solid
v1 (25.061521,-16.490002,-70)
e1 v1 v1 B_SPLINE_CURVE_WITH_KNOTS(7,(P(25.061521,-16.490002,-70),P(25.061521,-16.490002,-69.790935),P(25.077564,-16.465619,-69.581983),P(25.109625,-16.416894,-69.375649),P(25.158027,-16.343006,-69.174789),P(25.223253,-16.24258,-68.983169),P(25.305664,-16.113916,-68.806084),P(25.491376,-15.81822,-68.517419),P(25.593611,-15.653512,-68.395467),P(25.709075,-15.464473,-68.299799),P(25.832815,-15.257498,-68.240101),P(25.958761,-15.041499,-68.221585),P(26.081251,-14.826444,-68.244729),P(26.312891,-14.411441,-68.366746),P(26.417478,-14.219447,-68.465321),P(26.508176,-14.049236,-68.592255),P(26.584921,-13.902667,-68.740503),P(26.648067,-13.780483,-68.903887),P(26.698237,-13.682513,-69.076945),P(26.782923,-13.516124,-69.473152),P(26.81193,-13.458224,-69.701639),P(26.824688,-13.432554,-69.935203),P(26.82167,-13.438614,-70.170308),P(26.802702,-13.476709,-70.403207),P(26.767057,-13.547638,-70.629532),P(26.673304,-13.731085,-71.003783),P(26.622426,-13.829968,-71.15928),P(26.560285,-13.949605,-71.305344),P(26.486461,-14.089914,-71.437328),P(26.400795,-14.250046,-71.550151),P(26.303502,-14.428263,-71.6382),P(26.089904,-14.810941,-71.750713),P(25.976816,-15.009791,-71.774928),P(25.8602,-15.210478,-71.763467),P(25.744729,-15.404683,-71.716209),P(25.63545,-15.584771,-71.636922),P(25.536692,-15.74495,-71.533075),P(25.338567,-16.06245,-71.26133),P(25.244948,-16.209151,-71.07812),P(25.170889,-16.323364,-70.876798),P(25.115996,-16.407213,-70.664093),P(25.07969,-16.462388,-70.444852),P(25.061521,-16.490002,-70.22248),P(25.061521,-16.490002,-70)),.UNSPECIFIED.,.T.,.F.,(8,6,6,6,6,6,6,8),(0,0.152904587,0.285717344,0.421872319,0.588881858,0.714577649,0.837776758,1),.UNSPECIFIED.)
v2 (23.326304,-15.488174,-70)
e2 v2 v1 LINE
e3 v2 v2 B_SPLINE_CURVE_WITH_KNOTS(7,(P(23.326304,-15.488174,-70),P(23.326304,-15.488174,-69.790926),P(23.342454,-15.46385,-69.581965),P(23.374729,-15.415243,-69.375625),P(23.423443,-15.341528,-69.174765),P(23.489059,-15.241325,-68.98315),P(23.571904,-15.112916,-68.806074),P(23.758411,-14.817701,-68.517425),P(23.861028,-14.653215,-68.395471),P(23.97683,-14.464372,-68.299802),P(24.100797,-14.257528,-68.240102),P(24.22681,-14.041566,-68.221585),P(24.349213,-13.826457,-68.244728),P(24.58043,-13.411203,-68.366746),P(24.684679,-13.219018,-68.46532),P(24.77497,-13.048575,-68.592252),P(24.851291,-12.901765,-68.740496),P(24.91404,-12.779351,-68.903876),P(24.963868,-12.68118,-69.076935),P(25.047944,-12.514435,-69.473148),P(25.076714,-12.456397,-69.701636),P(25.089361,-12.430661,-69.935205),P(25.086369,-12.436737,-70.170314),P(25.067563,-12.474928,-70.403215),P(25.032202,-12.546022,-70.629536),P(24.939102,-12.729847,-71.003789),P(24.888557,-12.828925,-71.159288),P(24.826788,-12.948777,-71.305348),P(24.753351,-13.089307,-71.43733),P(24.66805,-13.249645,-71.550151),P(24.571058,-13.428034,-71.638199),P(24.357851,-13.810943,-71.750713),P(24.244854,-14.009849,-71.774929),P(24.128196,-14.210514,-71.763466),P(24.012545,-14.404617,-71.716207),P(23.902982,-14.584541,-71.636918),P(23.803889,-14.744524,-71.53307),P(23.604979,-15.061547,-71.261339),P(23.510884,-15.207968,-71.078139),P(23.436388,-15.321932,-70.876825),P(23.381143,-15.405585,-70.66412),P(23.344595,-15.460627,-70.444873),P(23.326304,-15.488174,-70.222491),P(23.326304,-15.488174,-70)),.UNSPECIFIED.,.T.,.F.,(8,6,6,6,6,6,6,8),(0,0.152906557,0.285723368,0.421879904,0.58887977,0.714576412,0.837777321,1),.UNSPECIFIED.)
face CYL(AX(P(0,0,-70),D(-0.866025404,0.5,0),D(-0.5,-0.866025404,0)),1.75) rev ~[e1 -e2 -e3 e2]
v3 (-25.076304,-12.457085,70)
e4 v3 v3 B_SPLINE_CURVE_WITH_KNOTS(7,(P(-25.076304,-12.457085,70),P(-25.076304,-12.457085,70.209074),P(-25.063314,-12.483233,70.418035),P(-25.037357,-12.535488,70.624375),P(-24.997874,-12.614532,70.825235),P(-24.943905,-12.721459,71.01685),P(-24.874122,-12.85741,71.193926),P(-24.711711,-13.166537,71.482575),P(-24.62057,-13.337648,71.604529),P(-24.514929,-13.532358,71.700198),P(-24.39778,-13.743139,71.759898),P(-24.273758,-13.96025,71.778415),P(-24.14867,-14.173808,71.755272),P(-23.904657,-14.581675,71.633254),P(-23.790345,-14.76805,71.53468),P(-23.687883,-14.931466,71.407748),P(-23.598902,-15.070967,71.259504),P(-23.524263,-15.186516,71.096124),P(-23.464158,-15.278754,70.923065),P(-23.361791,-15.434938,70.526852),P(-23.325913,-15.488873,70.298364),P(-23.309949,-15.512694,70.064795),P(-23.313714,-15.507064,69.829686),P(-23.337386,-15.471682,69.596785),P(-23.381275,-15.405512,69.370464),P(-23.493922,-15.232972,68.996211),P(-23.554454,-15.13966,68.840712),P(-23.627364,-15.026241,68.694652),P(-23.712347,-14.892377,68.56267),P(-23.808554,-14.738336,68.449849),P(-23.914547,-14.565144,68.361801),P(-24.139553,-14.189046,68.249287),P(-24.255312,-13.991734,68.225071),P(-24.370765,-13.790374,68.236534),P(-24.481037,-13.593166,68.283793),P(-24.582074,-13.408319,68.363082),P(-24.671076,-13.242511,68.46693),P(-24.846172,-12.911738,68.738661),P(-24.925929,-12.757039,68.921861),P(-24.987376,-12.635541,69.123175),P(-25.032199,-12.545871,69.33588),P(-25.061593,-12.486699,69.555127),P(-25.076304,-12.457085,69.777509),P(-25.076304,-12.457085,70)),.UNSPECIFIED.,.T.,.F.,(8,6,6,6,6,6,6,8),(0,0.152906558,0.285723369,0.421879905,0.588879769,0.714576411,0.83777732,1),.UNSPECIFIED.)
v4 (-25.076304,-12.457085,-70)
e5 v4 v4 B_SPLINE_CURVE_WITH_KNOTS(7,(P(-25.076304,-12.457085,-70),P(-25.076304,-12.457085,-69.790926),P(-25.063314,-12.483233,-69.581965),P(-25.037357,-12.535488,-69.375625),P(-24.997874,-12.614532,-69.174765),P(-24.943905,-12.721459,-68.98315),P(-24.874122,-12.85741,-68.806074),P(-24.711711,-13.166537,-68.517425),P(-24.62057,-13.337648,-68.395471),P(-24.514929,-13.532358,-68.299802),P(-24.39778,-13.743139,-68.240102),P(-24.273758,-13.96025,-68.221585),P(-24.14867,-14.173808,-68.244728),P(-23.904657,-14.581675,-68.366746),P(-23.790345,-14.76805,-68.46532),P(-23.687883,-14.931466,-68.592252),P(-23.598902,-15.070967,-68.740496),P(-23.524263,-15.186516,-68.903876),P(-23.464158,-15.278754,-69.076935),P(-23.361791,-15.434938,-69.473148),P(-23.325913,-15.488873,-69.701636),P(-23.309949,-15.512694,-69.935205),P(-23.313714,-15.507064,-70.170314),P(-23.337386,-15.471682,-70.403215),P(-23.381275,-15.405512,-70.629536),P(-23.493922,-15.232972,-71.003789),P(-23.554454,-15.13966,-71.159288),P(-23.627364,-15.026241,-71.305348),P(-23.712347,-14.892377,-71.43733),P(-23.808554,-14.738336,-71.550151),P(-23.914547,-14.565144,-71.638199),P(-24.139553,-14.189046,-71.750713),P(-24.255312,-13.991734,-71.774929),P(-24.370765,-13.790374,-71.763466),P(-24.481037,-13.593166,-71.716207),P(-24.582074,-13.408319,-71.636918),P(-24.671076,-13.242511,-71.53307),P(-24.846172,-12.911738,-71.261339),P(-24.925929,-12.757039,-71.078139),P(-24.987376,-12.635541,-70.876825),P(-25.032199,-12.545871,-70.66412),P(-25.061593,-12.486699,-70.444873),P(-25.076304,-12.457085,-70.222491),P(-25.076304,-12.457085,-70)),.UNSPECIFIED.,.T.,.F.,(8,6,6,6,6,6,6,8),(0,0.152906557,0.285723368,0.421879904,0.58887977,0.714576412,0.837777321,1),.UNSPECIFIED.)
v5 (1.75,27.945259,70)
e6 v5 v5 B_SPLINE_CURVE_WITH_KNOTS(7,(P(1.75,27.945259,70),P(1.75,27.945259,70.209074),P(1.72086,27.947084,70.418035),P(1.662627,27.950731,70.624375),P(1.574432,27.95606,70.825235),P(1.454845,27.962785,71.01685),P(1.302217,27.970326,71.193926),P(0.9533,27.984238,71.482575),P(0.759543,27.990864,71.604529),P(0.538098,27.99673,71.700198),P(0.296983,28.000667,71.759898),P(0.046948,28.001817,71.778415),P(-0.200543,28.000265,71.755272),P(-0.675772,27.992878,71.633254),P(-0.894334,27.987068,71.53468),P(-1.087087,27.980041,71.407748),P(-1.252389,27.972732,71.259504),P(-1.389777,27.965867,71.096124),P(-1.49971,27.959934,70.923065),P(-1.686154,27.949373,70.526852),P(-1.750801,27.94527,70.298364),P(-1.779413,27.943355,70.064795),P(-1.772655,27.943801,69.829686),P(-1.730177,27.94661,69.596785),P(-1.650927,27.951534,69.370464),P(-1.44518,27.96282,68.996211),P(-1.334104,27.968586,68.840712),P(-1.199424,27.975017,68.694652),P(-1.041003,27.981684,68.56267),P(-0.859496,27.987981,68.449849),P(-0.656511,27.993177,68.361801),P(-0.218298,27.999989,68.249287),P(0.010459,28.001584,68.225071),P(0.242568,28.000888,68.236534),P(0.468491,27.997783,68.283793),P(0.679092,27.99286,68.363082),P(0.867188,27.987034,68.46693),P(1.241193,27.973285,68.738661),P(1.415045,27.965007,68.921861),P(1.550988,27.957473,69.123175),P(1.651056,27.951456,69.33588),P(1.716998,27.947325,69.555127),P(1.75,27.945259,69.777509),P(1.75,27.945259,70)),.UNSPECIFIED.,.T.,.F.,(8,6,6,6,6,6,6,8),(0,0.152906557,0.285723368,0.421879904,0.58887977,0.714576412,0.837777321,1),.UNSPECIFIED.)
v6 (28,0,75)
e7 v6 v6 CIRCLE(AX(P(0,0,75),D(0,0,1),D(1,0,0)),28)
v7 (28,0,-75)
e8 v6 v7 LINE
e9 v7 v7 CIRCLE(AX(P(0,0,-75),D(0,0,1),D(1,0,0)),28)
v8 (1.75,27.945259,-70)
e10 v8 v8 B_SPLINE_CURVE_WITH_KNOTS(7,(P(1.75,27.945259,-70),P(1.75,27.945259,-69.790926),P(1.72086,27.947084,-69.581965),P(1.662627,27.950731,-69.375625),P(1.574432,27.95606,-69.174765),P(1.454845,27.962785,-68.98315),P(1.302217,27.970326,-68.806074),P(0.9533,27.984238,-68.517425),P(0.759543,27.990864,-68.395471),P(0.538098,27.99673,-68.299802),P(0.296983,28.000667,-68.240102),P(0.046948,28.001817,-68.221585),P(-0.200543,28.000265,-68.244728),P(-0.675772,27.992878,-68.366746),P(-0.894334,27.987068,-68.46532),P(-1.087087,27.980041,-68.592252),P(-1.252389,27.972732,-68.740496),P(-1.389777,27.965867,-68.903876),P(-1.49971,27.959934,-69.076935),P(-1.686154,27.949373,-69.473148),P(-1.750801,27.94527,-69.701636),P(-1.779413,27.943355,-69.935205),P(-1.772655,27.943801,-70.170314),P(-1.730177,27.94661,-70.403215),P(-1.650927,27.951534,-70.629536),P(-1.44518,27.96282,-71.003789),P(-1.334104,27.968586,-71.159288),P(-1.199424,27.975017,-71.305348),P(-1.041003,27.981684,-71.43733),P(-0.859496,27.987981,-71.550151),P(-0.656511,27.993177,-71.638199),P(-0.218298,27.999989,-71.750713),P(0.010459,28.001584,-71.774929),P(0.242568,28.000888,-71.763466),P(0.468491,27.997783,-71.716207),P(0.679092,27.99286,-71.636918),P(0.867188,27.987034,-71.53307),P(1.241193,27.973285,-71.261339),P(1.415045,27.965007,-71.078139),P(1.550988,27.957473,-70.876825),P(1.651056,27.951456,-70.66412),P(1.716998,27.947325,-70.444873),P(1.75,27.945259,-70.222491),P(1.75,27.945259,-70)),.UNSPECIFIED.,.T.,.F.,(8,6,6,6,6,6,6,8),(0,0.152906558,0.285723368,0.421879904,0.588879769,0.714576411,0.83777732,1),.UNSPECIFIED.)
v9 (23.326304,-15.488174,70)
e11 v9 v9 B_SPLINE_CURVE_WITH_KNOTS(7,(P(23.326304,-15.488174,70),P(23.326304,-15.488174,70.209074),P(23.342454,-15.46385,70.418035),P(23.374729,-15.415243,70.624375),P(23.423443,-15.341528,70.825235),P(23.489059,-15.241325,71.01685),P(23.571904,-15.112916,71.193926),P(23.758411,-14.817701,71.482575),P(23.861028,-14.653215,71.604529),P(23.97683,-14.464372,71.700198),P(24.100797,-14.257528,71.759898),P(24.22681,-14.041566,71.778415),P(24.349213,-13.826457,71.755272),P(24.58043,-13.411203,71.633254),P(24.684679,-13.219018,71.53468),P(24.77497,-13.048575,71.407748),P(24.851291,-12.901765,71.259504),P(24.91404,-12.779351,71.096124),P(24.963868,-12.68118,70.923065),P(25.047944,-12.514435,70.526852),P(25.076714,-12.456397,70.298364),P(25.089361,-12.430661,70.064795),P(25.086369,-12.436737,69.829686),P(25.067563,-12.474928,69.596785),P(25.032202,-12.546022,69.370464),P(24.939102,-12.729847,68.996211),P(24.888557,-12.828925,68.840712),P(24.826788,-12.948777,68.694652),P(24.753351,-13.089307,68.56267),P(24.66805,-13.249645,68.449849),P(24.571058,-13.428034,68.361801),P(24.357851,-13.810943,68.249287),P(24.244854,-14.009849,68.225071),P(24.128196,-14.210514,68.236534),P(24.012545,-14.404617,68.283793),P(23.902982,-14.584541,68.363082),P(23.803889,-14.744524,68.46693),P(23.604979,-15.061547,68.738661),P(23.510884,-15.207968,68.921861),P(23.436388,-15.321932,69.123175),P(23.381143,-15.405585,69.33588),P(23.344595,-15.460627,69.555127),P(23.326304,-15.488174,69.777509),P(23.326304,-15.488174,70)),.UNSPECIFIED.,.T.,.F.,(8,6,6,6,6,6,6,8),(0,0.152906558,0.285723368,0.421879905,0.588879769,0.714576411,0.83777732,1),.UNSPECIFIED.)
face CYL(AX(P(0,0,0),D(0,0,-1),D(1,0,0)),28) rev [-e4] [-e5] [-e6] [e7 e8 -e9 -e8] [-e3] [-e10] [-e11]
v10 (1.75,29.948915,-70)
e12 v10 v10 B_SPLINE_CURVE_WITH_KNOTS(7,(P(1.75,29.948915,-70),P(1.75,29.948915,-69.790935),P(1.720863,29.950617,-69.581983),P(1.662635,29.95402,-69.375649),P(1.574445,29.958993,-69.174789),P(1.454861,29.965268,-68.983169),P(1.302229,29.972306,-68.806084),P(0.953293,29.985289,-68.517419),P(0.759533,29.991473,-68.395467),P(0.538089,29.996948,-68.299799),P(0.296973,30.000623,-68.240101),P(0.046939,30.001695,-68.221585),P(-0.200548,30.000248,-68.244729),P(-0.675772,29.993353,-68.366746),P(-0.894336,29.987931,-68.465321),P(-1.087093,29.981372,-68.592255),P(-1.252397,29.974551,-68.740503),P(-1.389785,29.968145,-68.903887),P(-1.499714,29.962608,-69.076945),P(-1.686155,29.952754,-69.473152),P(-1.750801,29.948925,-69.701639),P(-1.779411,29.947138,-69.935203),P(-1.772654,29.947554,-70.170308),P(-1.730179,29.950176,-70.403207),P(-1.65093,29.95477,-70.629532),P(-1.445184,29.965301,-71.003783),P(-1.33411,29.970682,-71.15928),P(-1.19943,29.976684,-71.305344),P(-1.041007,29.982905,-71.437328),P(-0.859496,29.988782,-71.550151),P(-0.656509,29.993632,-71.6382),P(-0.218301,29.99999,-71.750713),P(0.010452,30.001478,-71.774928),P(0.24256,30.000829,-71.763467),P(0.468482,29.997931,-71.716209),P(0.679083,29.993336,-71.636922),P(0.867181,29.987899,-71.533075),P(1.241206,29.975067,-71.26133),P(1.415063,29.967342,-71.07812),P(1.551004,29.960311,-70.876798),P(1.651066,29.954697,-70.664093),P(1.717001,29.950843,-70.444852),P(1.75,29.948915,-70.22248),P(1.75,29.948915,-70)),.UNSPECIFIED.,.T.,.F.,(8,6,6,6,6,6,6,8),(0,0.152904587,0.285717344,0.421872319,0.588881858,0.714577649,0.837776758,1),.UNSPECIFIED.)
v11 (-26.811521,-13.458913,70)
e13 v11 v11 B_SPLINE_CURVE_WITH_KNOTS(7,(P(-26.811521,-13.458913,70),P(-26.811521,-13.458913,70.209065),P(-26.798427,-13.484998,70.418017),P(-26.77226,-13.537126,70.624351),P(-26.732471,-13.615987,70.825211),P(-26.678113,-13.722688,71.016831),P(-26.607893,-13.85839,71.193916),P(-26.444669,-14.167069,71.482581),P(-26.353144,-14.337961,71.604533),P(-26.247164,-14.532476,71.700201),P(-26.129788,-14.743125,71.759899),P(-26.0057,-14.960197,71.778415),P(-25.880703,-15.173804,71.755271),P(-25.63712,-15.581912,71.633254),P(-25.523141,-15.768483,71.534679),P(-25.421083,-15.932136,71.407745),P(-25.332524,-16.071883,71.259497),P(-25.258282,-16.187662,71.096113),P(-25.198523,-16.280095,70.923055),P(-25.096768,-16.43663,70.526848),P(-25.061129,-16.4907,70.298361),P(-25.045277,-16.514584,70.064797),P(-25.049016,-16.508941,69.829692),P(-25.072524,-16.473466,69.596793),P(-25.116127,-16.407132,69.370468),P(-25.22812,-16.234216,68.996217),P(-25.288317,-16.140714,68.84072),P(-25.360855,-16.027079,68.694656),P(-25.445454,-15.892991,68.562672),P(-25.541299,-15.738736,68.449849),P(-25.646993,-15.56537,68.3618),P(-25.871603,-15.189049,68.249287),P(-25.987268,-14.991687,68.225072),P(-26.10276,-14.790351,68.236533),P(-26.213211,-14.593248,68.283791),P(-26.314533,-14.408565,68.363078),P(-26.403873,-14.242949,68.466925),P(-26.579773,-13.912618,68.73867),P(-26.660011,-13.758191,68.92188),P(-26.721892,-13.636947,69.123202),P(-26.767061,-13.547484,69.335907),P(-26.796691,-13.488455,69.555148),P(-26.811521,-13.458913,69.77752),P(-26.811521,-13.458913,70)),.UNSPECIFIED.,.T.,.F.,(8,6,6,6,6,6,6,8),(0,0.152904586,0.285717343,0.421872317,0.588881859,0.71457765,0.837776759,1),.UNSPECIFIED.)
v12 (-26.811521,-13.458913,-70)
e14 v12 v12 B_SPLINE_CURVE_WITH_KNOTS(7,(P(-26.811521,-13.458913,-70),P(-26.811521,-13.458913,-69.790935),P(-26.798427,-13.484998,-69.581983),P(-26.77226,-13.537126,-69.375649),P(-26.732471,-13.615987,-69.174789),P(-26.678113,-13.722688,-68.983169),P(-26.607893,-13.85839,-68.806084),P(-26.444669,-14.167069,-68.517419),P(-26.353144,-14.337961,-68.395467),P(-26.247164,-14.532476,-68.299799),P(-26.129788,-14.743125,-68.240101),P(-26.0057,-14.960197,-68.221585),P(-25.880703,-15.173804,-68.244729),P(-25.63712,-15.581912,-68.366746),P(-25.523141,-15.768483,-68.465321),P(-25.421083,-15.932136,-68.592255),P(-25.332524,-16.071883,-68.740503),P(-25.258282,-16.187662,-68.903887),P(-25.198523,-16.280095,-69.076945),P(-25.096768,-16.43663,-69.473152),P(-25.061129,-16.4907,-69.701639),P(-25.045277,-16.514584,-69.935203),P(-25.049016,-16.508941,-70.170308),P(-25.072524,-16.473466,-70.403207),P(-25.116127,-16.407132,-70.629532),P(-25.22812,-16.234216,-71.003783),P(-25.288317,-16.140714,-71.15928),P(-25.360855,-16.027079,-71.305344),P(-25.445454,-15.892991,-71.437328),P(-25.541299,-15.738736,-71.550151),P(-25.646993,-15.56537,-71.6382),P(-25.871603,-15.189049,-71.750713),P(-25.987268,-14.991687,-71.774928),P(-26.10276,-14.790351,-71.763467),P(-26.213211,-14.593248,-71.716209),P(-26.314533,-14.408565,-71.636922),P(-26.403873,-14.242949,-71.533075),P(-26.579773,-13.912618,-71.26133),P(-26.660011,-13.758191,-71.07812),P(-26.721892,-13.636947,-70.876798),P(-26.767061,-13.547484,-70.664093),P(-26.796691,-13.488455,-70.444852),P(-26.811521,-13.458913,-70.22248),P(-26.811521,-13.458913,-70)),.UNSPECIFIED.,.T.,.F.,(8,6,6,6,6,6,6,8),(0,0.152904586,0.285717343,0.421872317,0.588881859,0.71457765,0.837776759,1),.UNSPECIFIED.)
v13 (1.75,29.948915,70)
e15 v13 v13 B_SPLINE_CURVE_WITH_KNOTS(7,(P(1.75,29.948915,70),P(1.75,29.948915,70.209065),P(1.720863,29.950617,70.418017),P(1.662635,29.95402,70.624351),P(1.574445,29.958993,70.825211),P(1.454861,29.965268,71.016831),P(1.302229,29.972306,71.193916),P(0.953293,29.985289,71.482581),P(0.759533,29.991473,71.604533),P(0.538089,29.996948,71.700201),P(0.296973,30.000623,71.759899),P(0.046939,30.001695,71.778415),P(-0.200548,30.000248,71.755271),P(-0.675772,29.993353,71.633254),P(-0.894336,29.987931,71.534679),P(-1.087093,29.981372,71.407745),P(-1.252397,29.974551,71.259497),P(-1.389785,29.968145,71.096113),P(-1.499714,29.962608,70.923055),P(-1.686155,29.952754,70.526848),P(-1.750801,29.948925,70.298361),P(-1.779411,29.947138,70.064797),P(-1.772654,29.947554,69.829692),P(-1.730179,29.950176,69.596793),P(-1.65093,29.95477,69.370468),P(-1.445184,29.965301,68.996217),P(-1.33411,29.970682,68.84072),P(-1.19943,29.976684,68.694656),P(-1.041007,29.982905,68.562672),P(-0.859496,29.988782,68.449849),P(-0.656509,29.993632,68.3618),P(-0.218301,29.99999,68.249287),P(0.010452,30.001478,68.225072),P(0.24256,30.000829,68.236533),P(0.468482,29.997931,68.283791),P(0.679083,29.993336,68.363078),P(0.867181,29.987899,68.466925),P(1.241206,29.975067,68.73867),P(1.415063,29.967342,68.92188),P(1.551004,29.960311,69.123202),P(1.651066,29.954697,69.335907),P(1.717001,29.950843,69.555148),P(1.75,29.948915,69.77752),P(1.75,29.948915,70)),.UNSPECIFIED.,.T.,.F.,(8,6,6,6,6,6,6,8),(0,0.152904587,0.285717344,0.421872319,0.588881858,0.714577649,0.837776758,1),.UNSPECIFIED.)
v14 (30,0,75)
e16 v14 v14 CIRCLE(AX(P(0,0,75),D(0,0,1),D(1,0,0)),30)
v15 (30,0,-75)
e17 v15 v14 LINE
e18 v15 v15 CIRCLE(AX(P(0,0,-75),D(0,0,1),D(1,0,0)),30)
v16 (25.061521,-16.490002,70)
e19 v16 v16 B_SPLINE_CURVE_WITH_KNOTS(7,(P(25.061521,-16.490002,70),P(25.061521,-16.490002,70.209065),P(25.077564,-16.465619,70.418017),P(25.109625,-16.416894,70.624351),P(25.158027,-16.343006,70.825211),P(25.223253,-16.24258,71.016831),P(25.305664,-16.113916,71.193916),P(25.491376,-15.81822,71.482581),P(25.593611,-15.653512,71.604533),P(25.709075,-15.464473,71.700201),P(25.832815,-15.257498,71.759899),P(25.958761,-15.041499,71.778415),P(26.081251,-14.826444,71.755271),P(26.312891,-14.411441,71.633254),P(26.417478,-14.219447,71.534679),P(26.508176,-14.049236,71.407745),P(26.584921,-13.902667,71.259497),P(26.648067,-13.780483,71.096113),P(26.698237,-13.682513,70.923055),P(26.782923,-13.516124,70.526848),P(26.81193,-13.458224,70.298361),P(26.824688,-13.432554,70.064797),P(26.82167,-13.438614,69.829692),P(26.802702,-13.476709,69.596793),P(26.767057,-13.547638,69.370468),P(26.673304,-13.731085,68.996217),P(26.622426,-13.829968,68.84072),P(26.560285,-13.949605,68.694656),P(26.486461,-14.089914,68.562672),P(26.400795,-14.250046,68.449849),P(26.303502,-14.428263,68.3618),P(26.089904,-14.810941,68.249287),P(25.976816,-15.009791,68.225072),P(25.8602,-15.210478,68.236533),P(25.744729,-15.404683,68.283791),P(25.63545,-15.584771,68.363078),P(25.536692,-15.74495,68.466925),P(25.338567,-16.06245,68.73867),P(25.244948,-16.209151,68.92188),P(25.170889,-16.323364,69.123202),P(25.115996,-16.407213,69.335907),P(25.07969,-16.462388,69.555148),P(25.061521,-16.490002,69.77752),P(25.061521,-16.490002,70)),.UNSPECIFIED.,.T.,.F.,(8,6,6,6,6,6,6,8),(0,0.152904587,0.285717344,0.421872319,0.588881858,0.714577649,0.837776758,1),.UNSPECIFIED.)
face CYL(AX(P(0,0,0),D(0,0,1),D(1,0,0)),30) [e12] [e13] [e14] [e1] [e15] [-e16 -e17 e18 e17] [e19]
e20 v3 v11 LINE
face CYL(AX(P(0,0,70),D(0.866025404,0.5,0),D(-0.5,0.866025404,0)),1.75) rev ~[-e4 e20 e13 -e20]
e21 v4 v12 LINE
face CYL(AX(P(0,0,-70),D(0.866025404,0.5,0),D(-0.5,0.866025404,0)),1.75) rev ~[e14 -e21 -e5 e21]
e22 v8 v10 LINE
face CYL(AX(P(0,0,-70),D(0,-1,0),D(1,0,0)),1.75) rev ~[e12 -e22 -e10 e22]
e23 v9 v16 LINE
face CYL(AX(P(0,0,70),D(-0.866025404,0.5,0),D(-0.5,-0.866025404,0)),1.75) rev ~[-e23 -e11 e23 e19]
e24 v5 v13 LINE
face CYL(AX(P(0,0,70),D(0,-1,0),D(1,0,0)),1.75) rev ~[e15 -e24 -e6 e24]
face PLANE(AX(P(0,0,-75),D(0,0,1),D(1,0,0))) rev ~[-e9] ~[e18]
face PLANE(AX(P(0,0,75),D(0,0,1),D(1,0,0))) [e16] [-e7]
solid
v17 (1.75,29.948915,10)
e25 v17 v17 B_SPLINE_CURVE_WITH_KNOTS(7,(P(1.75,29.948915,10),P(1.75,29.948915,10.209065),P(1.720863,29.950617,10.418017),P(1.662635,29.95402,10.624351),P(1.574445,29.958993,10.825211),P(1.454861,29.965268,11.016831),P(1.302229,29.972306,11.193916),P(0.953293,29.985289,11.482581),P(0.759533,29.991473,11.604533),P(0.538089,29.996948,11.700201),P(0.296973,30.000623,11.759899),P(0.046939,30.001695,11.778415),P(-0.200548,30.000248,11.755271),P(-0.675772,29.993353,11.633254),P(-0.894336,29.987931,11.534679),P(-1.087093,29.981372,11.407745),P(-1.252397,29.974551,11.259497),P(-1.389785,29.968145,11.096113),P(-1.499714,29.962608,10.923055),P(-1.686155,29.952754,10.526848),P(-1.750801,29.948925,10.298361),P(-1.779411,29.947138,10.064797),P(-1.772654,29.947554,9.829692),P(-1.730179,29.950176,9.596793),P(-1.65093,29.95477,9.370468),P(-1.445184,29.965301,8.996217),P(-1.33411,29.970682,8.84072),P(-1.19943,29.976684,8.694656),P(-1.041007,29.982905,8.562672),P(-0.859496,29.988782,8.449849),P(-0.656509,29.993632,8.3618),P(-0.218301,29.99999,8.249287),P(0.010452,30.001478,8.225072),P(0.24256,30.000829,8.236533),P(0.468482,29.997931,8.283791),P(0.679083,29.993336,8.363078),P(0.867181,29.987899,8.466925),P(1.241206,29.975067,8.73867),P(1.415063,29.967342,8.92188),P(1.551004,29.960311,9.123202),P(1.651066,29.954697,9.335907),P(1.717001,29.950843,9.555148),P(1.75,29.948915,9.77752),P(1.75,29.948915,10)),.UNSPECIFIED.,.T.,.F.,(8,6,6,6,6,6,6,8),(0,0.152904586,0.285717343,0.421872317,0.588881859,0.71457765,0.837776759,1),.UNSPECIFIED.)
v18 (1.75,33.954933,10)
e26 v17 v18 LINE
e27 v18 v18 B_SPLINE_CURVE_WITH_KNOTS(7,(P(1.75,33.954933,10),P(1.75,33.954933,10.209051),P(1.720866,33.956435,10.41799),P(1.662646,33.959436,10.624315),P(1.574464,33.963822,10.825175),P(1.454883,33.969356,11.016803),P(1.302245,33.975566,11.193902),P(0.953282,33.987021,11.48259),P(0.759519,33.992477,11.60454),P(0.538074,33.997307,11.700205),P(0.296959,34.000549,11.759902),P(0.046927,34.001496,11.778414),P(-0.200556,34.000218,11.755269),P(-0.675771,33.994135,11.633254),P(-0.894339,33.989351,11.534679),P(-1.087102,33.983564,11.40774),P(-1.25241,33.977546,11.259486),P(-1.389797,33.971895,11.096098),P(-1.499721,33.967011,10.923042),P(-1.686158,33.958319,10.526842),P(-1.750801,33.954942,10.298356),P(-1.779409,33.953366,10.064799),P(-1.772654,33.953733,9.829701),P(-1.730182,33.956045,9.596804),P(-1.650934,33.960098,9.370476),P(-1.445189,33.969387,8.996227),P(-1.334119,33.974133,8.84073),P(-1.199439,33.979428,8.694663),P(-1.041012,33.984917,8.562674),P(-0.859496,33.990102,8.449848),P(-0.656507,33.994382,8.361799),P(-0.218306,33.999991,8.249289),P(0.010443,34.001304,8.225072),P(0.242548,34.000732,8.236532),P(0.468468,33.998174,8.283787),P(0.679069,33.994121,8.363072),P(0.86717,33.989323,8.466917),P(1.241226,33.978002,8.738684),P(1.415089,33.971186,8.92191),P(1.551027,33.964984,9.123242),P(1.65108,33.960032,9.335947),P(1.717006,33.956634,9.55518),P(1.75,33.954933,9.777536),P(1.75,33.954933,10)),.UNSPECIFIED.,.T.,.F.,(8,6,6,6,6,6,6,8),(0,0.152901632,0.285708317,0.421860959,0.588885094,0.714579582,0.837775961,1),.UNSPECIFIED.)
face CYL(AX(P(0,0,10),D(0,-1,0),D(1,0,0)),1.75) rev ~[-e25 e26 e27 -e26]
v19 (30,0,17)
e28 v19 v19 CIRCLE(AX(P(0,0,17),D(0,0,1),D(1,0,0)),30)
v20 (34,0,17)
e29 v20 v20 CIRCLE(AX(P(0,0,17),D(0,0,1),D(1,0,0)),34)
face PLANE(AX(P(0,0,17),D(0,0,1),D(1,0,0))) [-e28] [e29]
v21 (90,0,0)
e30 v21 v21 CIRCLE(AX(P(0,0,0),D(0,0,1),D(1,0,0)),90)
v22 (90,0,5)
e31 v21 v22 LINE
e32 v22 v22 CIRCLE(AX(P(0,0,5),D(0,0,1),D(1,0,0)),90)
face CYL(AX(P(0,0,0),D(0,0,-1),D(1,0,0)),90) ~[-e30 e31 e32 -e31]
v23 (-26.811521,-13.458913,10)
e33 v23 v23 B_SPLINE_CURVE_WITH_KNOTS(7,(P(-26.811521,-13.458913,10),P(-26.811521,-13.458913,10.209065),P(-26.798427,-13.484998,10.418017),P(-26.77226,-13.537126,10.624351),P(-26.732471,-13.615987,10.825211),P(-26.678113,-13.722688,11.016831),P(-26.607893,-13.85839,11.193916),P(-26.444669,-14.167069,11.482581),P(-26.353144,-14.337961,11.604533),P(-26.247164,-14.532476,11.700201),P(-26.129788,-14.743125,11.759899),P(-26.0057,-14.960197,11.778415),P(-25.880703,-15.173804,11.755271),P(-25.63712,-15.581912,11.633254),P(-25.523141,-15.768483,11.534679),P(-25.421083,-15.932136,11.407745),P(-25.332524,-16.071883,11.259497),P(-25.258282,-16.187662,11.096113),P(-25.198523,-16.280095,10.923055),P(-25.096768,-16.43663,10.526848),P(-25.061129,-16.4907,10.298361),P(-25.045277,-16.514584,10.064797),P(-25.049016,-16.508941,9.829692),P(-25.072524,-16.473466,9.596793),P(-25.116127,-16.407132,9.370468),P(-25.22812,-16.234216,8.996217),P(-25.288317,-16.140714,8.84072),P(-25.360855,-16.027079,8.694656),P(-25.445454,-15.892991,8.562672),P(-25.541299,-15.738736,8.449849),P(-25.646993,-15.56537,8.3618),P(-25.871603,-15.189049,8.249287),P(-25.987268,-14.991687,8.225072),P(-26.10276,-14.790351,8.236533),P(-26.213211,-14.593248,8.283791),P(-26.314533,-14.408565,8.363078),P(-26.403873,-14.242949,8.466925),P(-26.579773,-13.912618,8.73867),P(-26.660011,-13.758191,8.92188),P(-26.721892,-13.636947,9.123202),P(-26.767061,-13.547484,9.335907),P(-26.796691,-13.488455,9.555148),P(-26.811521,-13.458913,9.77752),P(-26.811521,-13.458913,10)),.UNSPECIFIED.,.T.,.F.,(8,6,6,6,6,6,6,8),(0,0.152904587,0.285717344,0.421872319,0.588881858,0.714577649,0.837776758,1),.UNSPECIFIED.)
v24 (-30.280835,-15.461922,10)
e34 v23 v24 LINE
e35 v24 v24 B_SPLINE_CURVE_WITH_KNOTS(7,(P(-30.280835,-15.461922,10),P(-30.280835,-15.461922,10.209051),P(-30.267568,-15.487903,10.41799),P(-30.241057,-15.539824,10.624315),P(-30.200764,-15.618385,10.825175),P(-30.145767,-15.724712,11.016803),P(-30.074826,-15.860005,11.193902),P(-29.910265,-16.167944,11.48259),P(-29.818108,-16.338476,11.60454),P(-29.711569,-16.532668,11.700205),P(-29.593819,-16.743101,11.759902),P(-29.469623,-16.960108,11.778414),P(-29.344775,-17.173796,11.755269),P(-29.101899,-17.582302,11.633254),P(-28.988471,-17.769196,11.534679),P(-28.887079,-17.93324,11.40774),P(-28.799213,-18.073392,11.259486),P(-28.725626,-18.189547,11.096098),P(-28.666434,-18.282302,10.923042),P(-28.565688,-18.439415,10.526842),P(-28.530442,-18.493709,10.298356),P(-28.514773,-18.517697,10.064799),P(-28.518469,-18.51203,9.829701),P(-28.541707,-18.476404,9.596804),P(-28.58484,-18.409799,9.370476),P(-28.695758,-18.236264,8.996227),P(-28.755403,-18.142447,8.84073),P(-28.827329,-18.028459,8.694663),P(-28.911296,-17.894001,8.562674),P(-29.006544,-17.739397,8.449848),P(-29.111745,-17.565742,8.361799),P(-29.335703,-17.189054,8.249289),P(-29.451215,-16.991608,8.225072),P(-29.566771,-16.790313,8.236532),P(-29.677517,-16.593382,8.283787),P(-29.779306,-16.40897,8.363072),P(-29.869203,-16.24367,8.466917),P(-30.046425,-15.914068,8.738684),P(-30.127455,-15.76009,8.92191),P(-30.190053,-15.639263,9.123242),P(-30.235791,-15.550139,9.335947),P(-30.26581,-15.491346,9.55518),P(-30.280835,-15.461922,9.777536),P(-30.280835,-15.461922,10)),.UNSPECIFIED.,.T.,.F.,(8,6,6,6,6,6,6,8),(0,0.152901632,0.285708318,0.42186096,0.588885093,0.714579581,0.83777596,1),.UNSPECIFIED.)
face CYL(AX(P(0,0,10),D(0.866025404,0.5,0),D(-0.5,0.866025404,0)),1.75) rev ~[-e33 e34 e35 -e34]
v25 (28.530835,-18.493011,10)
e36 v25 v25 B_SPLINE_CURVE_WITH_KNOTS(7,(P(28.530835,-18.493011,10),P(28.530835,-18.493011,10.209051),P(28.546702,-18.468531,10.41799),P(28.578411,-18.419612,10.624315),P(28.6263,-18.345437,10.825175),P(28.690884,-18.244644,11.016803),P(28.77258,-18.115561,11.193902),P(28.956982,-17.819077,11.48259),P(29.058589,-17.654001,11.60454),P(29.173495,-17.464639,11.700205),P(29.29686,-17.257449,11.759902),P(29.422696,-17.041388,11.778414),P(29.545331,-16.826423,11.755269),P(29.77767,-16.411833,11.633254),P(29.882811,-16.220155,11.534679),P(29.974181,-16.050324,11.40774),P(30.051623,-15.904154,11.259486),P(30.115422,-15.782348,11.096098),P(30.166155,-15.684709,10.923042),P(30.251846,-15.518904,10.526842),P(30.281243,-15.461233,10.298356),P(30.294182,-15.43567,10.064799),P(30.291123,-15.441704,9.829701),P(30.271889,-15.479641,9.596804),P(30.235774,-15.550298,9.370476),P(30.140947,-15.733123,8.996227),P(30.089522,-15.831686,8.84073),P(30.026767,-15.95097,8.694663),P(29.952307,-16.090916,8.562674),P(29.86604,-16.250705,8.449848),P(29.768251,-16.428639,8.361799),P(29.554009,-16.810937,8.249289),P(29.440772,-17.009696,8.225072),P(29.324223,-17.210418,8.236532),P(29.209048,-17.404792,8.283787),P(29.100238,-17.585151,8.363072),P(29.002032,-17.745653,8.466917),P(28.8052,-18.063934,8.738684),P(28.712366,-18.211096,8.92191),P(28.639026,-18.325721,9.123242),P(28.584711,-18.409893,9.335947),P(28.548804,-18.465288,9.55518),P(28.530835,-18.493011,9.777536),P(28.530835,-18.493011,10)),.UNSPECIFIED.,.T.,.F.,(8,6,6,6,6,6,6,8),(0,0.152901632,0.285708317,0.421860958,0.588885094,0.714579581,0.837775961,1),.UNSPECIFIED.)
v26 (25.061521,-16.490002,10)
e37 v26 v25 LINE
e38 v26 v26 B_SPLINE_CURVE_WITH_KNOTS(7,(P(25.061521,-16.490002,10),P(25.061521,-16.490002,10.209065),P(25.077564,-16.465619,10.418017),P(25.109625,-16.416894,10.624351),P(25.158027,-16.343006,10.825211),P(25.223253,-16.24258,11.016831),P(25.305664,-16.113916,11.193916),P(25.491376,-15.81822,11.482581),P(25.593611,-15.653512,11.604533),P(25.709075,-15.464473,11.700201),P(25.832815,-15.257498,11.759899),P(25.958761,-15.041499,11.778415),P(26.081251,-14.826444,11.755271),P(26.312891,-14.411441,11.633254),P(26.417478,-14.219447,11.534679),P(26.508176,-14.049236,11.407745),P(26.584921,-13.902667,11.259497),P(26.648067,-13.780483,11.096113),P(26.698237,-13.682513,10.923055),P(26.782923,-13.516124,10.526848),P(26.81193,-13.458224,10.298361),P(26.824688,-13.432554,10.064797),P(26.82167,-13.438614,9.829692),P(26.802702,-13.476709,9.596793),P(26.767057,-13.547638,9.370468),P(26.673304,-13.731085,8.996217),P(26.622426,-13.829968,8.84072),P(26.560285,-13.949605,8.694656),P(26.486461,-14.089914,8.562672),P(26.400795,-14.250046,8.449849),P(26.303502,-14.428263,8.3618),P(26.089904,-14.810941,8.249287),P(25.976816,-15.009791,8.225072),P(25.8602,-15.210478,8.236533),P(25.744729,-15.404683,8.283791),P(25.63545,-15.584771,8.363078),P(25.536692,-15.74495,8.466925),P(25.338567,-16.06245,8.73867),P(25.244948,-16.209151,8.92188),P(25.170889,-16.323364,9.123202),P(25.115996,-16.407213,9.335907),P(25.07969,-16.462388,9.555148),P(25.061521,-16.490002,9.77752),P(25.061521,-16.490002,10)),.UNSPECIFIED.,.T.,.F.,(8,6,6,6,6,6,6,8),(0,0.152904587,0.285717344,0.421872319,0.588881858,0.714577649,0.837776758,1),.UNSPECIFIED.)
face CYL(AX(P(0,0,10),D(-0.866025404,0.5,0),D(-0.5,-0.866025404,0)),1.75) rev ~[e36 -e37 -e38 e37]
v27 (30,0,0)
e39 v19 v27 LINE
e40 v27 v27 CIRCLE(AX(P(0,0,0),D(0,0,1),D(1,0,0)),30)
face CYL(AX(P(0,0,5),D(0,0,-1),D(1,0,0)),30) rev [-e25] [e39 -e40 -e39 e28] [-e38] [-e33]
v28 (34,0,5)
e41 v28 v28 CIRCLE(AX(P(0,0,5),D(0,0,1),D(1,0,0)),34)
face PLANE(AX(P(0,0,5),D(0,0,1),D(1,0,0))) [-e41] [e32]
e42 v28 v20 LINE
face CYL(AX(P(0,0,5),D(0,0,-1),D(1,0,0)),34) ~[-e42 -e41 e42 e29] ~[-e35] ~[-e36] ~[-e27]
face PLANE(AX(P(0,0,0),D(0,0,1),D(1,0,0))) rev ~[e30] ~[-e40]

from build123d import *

# Parameters (mm, degrees)
SKETCH_R              = 90
SKETCH_R_2            = 30
PAD_DEPTH             = 5
SKETCH001_R           = 34
SKETCH001_R_2         = 30
PAD001_DEPTH          = 12
SKETCH002_R           = 1.75
POCKET_DEPTH          = 600.251919
POLARPATTERN_COUNT    = 3
SKETCH003_R           = 30
SKETCH003_R_2         = 28
PAD002_DEPTH          = 75
SKETCH004_R           = 1.75
POCKET001_DEPTH       = 374.674759
POLARPATTERN001_COUNT = 3


with BuildPart() as side:
    # Sketch → Pad (new body)
    with BuildSketch(Plane.XY):
        Circle(SKETCH_R)
        Circle(SKETCH_R_2, mode=Mode.SUBTRACT)
    extrude(amount=PAD_DEPTH)

    # Sketch001 (on Face4 of Pad) → Pad001 (join)
    with BuildSketch(Plane.XY.offset(5)):
        Circle(SKETCH001_R)
        Circle(SKETCH001_R_2, mode=Mode.SUBTRACT)
    extrude(amount=PAD001_DEPTH)

    # Sketch002 → Pocket (cut, through all)
    with BuildSketch(Plane.XZ):
        with Locations((0, 10)):
            Circle(SKETCH002_R)
    pocket = extrude(amount=-POCKET_DEPTH, mode=Mode.SUBTRACT)

    # PolarPattern: Pocket ×3 about axis
    polarpattern_axis = Axis((0, 0, 0), (0, 0, 1))
    for i in range(1, POLARPATTERN_COUNT):
        add(pocket.rotate(polarpattern_axis, i * 360 / POLARPATTERN_COUNT), mode=Mode.SUBTRACT)


with BuildPart() as roll:
    # Sketch003 → Pad002 (new body, symmetric)
    with BuildSketch(Plane.XY):
        Circle(SKETCH003_R)
        Circle(SKETCH003_R_2, mode=Mode.SUBTRACT)
    extrude(amount=PAD002_DEPTH, both=True)

    # Sketch004 → Pocket001 (cut, through all)
    with BuildSketch(Plane.XZ):
        with Locations((0, -70)):
            Circle(SKETCH004_R)
        with Locations((0, 70)):
            Circle(SKETCH004_R)
    pocket001 = extrude(amount=-POCKET001_DEPTH, mode=Mode.SUBTRACT)

    # PolarPattern001: Pocket001 ×3 about axis
    polarpattern001_axis = Axis((0, 0, 0), (0, 0, 1))
    for i in range(1, POLARPATTERN001_COUNT):
        add(pocket001.rotate(polarpattern001_axis, i * 360 / POLARPATTERN001_COUNT), mode=Mode.SUBTRACT)


solid = Compound([side.part, roll.part])
